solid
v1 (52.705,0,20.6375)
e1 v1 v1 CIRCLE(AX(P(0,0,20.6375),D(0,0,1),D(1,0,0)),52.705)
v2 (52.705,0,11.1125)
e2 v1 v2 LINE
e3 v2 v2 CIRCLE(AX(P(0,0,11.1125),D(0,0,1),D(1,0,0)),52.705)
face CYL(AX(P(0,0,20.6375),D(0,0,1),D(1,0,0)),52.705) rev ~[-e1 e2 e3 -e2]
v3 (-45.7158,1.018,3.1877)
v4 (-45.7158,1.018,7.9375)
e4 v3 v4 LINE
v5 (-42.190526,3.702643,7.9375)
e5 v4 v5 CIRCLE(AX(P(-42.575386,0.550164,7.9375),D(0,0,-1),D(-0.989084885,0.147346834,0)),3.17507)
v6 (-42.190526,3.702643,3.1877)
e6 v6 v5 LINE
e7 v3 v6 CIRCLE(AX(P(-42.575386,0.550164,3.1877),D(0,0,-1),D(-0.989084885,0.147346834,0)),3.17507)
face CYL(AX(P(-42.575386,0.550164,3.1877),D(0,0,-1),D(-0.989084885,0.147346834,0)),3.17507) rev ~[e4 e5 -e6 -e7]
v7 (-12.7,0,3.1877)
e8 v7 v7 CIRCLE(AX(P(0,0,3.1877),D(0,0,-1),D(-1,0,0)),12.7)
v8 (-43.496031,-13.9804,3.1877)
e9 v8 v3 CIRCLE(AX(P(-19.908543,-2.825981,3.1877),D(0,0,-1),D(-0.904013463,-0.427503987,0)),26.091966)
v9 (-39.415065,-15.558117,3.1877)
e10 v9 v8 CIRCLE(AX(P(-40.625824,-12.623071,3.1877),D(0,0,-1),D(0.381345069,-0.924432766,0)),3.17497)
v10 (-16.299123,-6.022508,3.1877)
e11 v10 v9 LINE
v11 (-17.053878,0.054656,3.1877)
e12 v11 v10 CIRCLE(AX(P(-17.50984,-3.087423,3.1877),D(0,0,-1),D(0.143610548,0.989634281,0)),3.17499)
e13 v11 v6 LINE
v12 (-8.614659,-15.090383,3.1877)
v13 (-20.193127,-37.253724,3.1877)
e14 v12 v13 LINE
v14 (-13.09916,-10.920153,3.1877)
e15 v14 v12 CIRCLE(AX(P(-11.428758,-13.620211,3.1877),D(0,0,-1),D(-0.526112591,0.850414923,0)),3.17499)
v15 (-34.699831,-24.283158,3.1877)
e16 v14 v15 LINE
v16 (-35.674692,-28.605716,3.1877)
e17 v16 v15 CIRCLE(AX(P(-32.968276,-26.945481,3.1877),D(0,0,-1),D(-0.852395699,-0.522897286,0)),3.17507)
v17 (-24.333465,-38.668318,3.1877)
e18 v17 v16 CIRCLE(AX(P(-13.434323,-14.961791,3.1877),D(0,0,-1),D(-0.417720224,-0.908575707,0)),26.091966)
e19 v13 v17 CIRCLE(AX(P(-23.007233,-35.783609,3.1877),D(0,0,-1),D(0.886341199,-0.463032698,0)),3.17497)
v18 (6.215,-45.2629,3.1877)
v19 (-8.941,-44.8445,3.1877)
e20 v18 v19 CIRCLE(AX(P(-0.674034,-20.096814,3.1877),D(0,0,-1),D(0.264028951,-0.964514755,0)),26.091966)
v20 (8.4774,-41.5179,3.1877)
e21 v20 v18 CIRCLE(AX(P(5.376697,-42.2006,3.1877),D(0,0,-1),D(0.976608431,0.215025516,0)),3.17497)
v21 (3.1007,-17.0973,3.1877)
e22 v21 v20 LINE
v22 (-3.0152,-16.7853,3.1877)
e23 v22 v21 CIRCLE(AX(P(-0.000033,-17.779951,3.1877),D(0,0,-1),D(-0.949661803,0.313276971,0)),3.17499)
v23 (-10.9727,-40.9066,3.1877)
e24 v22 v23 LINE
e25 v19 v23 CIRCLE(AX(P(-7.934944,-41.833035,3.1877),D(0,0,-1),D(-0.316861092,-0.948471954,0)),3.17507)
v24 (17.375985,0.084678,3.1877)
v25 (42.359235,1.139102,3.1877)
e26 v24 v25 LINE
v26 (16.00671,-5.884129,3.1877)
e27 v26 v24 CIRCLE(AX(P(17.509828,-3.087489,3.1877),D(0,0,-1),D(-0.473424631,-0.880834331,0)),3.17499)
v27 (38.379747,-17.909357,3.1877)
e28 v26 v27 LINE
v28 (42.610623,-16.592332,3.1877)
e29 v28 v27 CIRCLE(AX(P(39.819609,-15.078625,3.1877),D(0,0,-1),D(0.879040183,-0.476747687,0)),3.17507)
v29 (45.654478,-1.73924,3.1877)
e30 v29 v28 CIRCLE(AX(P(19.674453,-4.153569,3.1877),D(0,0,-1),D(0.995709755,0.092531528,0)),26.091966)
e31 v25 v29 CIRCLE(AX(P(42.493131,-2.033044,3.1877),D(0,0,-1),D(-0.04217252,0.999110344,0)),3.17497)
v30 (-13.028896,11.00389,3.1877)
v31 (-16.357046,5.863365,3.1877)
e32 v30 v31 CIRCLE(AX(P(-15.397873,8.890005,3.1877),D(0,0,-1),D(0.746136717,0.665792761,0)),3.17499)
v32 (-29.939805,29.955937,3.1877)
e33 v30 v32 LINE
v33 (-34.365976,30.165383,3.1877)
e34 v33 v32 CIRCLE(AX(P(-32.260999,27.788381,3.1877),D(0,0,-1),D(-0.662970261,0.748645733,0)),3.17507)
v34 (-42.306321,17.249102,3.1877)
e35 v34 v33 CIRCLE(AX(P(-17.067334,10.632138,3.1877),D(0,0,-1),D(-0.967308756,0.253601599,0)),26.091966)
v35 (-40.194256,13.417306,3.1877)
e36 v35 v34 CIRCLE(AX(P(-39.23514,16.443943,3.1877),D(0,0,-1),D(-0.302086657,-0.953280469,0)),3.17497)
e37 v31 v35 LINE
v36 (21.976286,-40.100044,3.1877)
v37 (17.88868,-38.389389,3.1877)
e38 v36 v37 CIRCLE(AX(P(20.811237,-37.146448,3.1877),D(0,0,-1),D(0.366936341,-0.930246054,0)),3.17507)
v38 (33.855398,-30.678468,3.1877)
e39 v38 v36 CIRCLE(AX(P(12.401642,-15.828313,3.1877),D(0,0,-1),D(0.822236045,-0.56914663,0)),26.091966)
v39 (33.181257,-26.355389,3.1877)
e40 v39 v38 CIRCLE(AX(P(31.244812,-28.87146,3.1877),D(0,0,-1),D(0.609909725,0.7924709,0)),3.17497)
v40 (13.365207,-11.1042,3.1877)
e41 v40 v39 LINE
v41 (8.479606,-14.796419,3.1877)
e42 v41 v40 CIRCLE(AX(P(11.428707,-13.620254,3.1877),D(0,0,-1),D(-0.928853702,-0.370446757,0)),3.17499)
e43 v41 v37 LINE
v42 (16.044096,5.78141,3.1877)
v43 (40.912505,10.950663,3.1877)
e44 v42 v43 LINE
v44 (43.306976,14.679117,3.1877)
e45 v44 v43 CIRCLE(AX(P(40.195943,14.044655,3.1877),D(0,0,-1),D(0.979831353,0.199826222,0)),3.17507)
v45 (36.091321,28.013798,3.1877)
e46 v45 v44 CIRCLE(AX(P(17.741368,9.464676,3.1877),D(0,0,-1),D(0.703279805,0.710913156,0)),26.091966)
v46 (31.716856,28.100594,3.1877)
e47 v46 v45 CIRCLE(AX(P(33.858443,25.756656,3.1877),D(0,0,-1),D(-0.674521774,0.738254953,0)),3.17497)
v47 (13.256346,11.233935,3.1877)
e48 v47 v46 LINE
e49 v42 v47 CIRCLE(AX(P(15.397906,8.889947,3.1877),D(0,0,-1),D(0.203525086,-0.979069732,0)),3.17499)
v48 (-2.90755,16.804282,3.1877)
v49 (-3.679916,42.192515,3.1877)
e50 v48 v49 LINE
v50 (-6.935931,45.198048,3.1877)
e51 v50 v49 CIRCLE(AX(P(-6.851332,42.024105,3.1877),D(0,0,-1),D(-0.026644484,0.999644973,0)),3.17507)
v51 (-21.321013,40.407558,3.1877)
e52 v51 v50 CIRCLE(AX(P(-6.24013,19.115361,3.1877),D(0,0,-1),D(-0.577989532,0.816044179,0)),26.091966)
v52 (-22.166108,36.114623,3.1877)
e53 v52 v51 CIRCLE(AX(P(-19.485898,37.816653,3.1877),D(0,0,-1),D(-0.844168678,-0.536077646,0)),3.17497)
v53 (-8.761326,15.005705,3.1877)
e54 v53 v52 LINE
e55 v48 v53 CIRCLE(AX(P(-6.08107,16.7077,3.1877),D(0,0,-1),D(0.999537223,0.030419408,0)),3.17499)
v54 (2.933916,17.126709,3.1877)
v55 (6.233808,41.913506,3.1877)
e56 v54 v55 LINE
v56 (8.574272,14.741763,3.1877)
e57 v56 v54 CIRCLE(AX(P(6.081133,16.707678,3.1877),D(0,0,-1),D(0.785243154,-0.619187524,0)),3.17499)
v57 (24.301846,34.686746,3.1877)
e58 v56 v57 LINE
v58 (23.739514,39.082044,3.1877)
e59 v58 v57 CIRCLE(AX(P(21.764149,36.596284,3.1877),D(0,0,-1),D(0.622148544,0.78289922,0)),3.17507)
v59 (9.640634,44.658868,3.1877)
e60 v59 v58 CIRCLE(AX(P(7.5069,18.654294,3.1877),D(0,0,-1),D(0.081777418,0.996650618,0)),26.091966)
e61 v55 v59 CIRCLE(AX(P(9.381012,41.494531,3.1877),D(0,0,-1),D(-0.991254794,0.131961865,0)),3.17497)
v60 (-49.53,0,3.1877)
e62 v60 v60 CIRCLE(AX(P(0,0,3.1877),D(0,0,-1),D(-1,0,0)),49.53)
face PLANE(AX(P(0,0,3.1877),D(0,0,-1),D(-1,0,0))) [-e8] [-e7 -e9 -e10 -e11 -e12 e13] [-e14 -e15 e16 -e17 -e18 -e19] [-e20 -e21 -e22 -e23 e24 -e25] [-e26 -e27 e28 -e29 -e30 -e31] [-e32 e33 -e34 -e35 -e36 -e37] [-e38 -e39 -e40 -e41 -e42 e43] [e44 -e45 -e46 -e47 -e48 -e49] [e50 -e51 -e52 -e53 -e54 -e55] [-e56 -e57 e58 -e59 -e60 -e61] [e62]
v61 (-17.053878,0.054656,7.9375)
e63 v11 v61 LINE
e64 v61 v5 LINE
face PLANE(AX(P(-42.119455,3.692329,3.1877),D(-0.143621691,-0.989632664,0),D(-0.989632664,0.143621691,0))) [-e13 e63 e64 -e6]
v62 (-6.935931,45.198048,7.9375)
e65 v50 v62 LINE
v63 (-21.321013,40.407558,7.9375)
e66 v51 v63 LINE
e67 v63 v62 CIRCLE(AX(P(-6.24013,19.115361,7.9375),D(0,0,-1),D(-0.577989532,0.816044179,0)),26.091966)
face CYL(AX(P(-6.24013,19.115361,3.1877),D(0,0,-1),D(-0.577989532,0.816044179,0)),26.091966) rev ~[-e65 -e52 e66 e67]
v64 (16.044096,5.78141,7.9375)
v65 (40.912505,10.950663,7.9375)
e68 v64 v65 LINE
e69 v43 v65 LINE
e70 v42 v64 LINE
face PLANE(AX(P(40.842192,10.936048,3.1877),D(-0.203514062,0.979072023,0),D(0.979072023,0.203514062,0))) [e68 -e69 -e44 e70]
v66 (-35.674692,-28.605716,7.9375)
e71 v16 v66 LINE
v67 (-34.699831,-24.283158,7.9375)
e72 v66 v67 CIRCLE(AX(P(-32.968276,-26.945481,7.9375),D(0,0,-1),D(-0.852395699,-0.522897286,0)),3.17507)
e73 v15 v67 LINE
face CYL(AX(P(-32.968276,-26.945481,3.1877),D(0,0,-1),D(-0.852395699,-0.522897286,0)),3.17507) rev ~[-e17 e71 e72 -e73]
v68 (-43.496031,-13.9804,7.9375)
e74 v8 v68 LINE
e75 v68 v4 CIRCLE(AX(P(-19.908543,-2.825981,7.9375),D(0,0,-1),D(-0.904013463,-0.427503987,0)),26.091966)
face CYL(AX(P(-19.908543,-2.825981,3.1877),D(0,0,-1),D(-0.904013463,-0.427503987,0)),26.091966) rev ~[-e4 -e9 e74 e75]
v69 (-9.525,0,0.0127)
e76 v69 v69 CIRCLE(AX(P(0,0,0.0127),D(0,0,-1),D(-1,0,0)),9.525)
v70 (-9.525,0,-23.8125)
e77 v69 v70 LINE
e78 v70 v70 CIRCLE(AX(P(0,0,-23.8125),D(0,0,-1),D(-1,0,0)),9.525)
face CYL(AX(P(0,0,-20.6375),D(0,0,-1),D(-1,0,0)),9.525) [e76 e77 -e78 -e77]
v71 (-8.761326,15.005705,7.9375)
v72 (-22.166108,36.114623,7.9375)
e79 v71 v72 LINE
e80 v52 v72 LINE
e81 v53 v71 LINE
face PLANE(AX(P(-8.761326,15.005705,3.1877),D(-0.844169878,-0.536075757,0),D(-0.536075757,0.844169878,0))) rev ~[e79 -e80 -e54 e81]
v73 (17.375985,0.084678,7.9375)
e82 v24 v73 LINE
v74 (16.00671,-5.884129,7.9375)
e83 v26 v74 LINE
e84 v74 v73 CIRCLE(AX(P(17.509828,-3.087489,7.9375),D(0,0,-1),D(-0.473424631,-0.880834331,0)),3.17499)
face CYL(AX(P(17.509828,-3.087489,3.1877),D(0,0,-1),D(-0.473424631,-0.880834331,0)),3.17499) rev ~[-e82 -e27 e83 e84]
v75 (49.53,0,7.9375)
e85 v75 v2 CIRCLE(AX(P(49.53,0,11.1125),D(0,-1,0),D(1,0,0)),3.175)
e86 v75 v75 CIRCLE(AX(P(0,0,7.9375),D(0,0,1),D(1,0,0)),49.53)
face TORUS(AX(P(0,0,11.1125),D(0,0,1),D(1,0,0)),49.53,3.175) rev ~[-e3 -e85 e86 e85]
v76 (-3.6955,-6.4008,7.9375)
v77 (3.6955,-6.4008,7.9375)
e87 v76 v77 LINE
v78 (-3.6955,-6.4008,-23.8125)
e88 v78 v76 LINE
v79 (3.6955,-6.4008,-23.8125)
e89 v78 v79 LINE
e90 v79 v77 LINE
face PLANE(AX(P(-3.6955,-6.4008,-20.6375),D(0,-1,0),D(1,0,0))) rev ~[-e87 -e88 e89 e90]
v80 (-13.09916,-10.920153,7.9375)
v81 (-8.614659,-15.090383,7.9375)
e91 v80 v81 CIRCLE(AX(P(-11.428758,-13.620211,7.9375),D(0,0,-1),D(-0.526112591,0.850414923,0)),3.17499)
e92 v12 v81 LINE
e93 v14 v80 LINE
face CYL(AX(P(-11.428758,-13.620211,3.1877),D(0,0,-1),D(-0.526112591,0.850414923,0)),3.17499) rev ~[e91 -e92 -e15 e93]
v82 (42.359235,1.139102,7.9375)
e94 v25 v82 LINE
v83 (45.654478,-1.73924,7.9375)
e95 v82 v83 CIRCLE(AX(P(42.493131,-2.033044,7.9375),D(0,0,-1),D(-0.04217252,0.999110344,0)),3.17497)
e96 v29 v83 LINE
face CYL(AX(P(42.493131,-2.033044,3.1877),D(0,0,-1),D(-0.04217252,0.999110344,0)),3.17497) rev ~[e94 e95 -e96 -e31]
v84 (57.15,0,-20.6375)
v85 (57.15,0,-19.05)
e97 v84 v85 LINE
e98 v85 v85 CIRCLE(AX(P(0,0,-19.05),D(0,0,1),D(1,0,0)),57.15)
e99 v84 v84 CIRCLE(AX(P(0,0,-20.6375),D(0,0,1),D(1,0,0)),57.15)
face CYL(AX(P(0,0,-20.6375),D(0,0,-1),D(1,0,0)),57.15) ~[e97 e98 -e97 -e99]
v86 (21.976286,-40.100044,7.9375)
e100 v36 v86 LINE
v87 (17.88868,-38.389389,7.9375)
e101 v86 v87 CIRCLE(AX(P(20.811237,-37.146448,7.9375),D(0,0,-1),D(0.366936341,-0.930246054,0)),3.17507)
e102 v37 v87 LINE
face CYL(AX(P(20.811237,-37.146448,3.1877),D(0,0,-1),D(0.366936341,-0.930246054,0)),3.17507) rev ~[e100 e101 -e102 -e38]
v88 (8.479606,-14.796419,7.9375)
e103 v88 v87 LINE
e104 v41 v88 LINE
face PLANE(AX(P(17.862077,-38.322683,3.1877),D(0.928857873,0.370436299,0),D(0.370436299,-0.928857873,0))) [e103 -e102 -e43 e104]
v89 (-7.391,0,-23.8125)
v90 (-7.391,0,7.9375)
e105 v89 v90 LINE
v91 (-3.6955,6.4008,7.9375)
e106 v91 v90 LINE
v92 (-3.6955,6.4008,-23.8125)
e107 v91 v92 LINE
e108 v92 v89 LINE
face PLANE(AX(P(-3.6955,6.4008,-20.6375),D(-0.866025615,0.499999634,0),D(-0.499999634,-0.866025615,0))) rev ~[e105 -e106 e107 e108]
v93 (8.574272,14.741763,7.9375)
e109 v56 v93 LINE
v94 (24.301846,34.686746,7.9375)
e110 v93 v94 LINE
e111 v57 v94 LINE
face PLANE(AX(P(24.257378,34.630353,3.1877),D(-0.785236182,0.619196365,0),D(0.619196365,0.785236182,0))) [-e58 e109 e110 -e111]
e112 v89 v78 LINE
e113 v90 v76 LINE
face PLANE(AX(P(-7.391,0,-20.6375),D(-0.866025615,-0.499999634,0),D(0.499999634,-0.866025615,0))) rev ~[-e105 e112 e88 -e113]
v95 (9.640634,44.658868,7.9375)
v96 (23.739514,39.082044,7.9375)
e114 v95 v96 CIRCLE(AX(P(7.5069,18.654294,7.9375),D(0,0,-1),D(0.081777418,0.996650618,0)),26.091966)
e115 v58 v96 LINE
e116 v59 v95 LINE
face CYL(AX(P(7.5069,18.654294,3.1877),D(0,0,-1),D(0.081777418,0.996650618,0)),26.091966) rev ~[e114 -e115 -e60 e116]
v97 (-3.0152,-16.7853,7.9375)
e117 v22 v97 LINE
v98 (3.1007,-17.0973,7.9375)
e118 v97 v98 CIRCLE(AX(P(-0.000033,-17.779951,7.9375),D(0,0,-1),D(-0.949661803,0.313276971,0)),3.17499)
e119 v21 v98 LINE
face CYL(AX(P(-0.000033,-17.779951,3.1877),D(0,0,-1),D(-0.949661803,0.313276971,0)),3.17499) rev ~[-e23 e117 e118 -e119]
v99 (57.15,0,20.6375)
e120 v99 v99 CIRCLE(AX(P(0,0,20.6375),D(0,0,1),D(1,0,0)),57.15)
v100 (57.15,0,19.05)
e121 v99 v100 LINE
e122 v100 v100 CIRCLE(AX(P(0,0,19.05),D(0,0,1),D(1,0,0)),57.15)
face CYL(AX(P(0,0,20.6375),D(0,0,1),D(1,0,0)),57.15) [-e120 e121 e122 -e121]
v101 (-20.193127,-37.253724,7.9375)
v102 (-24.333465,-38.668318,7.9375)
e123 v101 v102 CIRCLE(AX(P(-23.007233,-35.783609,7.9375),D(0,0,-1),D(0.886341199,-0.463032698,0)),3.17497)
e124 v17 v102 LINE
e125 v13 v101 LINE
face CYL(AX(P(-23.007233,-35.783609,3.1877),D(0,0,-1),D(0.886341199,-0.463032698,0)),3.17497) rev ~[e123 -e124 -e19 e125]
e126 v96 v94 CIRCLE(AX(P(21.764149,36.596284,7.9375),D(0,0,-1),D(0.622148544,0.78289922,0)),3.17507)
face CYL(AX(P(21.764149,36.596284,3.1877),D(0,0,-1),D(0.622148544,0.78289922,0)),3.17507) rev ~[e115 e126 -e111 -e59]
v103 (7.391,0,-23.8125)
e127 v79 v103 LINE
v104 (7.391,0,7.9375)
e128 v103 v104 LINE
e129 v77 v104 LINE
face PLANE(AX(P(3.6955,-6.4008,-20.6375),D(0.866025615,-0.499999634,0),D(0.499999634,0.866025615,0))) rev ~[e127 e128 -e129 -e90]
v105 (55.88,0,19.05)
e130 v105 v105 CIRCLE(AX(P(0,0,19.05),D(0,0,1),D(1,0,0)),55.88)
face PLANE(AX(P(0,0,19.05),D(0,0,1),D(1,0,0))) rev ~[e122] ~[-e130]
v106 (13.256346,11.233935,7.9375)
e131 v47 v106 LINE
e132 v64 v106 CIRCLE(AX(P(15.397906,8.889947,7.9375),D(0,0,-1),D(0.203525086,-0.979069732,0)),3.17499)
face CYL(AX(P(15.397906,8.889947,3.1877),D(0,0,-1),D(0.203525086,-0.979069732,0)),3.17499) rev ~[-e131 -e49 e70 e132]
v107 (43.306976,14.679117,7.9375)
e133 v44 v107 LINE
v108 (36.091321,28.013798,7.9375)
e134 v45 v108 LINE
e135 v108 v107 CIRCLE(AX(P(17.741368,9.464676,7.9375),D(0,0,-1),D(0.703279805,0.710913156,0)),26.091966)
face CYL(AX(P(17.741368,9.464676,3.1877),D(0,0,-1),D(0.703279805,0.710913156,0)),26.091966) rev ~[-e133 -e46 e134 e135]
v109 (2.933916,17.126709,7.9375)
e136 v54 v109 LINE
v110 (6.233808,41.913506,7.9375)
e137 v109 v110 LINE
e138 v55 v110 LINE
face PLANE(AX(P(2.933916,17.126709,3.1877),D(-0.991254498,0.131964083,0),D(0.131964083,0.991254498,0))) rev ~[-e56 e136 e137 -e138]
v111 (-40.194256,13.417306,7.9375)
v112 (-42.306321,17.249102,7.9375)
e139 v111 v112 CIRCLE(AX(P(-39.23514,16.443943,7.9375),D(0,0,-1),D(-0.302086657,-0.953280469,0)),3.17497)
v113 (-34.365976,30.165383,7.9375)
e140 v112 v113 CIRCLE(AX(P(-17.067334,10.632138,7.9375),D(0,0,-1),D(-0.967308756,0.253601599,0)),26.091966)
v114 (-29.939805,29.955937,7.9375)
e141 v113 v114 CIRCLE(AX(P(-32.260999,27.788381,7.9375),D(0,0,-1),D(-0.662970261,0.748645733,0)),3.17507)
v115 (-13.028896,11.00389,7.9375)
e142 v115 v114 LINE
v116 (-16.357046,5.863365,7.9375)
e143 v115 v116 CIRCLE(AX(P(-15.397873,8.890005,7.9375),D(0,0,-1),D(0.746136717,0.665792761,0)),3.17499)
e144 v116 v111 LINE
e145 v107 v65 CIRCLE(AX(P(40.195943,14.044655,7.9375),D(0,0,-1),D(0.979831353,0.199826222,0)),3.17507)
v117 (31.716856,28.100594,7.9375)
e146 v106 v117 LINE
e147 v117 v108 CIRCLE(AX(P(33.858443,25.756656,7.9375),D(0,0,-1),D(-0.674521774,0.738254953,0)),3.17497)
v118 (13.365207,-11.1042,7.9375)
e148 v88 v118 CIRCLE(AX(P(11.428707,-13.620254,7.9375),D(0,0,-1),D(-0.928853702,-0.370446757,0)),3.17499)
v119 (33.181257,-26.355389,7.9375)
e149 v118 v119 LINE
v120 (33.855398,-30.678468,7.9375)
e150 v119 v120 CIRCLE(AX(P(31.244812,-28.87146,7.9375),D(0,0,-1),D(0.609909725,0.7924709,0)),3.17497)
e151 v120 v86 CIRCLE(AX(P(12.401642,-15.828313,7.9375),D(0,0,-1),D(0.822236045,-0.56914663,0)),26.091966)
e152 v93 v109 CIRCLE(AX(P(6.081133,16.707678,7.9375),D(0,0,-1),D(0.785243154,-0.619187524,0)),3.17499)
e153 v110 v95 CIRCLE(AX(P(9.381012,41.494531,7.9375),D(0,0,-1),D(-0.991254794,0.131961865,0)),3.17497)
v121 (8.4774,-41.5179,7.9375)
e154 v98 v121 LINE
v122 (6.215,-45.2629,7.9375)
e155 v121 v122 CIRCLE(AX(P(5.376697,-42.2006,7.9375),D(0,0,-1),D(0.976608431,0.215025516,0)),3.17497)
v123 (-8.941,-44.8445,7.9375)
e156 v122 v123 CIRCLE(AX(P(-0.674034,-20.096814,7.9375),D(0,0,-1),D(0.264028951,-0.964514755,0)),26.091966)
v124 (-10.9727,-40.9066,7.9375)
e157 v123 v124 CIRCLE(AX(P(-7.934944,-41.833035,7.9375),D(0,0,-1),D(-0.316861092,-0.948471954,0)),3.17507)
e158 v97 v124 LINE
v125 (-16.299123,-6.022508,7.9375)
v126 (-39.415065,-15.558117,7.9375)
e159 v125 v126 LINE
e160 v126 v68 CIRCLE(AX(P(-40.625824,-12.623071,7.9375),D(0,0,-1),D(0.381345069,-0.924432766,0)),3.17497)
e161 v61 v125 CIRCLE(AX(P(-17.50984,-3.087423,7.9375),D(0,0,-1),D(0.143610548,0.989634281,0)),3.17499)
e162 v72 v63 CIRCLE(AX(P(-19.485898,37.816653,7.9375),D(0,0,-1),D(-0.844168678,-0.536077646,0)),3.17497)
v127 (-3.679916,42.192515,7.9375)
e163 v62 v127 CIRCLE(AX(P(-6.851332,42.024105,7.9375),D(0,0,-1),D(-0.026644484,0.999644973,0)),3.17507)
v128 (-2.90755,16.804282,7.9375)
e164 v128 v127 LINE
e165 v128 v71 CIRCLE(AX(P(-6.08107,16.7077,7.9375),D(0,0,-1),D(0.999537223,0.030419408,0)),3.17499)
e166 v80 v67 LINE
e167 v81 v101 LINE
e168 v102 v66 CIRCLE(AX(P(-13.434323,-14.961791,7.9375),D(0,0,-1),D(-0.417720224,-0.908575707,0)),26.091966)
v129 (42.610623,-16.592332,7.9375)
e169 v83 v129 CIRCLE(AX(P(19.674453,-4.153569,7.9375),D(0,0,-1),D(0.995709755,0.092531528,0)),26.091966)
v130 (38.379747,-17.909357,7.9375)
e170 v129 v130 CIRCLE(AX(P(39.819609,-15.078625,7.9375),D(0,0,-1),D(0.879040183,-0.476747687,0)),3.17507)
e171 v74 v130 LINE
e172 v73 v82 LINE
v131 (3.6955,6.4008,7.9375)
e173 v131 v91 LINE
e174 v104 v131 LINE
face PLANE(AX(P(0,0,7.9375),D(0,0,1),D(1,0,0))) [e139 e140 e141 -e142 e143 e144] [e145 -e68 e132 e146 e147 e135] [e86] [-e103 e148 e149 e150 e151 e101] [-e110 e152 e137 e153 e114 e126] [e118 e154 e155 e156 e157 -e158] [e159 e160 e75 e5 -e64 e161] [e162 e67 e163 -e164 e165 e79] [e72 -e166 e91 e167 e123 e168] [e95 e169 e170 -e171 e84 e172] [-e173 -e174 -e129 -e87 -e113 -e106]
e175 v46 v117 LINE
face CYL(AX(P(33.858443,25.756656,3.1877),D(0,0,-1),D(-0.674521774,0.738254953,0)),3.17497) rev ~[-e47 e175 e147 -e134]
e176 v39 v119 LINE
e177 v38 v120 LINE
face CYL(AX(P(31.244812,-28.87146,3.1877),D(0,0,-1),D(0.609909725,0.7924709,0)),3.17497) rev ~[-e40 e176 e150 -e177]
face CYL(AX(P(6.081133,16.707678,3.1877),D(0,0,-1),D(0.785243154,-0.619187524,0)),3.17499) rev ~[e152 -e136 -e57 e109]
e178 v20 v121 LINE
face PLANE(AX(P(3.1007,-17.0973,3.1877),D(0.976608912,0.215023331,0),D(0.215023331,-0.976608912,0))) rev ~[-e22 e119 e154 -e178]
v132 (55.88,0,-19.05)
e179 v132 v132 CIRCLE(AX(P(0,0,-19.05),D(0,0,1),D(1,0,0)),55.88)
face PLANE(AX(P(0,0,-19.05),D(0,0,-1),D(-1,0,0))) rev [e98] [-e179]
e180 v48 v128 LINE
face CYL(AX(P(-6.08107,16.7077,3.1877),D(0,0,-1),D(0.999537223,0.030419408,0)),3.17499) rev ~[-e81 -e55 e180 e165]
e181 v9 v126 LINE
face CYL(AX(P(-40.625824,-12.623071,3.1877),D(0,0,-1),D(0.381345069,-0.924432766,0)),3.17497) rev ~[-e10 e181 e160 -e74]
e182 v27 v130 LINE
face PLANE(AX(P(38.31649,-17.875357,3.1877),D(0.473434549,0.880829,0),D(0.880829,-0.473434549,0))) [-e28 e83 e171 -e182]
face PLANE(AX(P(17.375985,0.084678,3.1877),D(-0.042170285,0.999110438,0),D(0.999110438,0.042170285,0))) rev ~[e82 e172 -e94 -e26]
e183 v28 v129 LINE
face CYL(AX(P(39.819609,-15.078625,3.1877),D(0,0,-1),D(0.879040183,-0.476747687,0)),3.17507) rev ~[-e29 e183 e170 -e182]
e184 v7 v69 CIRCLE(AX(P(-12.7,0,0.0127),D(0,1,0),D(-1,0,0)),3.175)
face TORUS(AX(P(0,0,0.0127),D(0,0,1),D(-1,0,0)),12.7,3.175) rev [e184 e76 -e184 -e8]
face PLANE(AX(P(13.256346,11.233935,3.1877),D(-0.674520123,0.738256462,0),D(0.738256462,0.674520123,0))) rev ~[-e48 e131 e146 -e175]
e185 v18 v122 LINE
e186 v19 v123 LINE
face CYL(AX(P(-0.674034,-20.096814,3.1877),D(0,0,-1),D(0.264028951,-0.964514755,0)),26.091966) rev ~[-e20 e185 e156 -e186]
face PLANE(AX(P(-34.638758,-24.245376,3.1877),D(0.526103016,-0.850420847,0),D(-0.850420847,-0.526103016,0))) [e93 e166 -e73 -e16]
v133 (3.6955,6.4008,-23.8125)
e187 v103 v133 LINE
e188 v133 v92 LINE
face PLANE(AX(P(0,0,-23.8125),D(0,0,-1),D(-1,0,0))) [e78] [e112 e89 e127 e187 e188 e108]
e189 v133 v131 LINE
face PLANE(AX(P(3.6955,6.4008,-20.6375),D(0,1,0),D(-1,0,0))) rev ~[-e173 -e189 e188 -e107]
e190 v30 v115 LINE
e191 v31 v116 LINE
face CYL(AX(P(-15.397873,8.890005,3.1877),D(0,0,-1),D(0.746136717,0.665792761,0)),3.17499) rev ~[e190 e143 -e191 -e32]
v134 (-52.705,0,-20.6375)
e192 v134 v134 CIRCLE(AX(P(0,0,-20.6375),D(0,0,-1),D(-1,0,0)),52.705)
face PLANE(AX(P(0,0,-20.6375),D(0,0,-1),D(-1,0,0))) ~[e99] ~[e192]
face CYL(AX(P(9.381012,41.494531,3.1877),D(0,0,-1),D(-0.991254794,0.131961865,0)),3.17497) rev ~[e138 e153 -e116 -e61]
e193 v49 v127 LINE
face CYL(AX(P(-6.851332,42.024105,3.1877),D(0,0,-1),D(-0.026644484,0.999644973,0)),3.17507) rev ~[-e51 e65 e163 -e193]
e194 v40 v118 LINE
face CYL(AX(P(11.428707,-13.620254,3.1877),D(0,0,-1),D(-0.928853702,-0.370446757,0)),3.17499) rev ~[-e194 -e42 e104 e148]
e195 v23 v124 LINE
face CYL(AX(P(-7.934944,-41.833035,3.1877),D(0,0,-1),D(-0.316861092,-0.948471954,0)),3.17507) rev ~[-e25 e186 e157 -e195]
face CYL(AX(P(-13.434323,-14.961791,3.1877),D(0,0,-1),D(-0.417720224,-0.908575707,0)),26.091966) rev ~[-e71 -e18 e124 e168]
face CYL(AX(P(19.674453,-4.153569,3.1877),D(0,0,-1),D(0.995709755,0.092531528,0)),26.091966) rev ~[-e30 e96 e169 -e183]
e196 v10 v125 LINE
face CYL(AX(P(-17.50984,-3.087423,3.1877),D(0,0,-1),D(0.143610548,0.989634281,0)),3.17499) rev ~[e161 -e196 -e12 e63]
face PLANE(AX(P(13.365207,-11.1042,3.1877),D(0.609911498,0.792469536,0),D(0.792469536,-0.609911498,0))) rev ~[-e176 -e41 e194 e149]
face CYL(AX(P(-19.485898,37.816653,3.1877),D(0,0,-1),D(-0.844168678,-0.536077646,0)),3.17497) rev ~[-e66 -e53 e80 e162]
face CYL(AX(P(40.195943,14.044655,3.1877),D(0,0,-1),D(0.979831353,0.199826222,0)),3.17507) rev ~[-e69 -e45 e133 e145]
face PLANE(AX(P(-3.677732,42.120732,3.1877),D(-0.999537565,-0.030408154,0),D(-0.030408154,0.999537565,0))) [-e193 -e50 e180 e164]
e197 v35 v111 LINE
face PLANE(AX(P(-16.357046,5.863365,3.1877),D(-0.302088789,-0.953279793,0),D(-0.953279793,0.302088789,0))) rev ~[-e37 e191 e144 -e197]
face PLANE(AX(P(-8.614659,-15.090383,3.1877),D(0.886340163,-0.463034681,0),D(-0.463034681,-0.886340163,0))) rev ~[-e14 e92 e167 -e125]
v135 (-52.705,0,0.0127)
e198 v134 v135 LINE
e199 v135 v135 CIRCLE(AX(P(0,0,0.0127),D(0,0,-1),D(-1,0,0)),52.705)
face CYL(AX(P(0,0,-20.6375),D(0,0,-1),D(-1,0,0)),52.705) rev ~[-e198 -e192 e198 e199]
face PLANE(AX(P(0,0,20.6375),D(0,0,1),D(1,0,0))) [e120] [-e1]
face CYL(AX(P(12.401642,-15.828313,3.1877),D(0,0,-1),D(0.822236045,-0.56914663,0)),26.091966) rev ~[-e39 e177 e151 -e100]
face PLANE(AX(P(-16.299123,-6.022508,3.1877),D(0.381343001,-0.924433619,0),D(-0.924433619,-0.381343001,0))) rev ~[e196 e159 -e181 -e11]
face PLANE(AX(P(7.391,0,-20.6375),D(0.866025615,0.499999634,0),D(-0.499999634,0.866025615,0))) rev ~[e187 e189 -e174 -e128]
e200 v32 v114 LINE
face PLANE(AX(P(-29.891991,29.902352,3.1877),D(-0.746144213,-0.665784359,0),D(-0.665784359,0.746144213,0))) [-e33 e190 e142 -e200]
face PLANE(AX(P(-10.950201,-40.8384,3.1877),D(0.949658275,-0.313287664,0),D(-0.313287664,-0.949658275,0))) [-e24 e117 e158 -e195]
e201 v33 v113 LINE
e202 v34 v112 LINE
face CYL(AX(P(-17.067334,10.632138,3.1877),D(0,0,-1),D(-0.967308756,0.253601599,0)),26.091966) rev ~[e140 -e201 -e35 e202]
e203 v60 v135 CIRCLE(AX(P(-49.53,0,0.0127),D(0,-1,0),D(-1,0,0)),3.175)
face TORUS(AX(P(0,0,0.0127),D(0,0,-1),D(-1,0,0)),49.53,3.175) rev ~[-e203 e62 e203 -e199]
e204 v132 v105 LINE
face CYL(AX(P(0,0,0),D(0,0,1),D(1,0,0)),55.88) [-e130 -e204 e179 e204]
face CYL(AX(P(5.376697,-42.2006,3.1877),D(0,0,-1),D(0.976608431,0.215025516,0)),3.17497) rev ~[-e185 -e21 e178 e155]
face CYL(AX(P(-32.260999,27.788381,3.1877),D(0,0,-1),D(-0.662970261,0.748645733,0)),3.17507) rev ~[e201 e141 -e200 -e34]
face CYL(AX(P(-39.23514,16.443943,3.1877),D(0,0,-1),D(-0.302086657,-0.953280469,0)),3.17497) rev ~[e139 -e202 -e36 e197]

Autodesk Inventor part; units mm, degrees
ref_plane "YZ Plane" through (0, 0, 0) normal (1, 0, 0) x (0, 1, 0)
ref_plane "XZ Plane" through (0, 0, 0) normal (0, 1, 0) x (-1, 0, 0)
sketch "Sketch1" plane through (0, 0, 0) normal (0, 0, 1) x (1, 0, 0)
  circle A0 centre (0, 0) radius 55.88
  circle A1 centre (0, 0) radius 9.525
  line L0 (7.391, 0) -> (3.6955, -6.4008)
  line L1 (3.6955, -6.4008) -> (-3.6955, -6.4008)
  line L2 (-3.6955, -6.4008) -> (-7.391, 0)
  line L3 (-7.391, 0) -> (-3.6955, 6.4008)
  line L4 (-3.6955, 6.4008) -> (3.6955, 6.4008)
  line L5 (3.6955, 6.4008) -> (7.391, 0)
  circle A2 centre (0, 0) radius 52.705
  point P0 (0, 9.525)
  dimension "d1" = 19.05
  dimension "d0" = 111.76
  dimension "d2" = 12.8016
  dimension "d3" = 3.175
extrude "Extrusion1" add sketch "Sketch1" along normal mid plane 41.275 contours A0 | A1 | A2
sketch "Sketch4" plane through (0, 0, 20.6375) normal (0, 0, 1) x (1, 0, 0)
  circle A0 centre (0, 0) radius 52.705
  circle A1 centre (0, 0) radius 55.88 construction
  dimension "d59" = 3.175
extrude "Extrusion4" cut sketch "Sketch4" against normal blind 12.7
sketch "Sketch5" plane through (0, 0, -20.6375) normal (0, 0, -1) x (-1, 0, 0)
  circle A0 centre (0, 0) radius 9.525
  line L0 (3.6955, 6.4008) -> (7.391, 0) projected
  line L1 (7.391, 0) -> (3.6955, -6.4008)
  line L2 (3.6955, -6.4008) -> (-3.6955, -6.4008)
  line L3 (-3.6955, -6.4008) -> (-7.391, 0)
  line L4 (-7.391, 0) -> (-3.6955, 6.4008)
  line L5 (-3.6955, 6.4008) -> (3.6955, 6.4008)
  line L6 (3.6955, 6.4008) -> (7.391, 0)
  dimension "d26" = 19.05
extrude "Extrusion5" add sketch "Sketch5" along normal blind 3.175
sketch "Sketch6" plane through (0, 0, -20.6375) normal (0, 0, -1) x (-1, 0, 0)
  circle A0 centre (0, 0) radius 52.705
  circle A1 centre (0, 0) radius 9.525
  circle A2 centre (0, 0) radius 55.88 construction
  dimension "d60" = 3.175
extrude "Extrusion6" cut sketch "Sketch6" against normal blind 23.8252
sketch "Sketch7" plane through (0, 0, 7.9375) normal (0, 0, 1) x (1, 0, 0)
  circle A0 centre (0, 0) radius 9.525 projected
  circle A1 centre (0, 0) radius 52.705 projected
  circle A2 centre (0, 0) radius 47.9425 construction
  circle A3 centre (0, 0) radius 14.2875 construction
  line L0 (-9.7714, 10.4237) -> (-9.7714, 46.9362) construction
  line L1 (-9.7714, 10.4237) -> (16.8454, 44.8856)
  line L2 (-9.7714, 10.4237) -> (-36.3881, 44.8856)
  arc A4 (16.8454, 44.8856) -> (-36.3881, 44.8856) centre (-9.7714, -126.8345) ccw
  point P0 (-6.5143, 6.9491)
  dimension "d42" = 4.7625
  dimension "d41" = 4.7625
  dimension "d43" = 34.4619
  dimension "d44" = 36.5125
  dimension "d45" = 4.7625
extrude "Extrusion8" [suppressed]
fillet "Fillet1" [suppressed]
pattern_circular "Circular Pattern1" [suppressed]
fillet "Fillet2" [suppressed]
sketch "Sketch8" plane through (0, 0, 20.6375) normal (0, 0, 1) x (1, 0, 0)
  circle A0 centre (0, 0) radius 55.88 projected
  circle A1 centre (0, 0) radius 57.15
  dimension "d53" = 114.3
extrude "Extrusion9" add sketch "Sketch8" against normal blind 1.5875
ref_plane "Work Plane1" through (0, 0, 0) normal (0, 0, 1) x (1, 0, 0)
mirror "Mirror1" about plane through (0, 0, 0) normal (0, 0, 1) of "Extrusion9"
fillet "Fillet3" radius 3.175 1 edges at (9.525, 0, 3.1877)
fillet "Fillet4" radius 3.175 1 edges at (-52.705, 0, 7.9375)
fillet "Fillet5" radius 3.175 1 edges at (52.705, 0, 3.1877)
sketch "Sketch9" plane through (0, 0, 3.1877) normal (0, 0, -1) x (-1, 0, 0)
  circle A0 centre (0, 0) radius 12.7 construction
  circle A1 centre (0, 0) radius 49.53 construction
  circle A2 centre (0, 0) radius 12.7 construction
  line L0 (0, -12.7) -> (0, -17.78) construction
  arc A3 (3.0152, -16.7853) -> (-3.1007, -17.0973) centre (0, -17.78) ccw
  circle A4 centre (0, 0) radius 49.53 construction
  line L1 (3.0152, -16.7853) -> (10.9727, -40.9066)
  line L2 (-3.1007, -17.0973) -> (-8.5623, -41.9032)
  arc A5 (8.941, -44.8445) -> (10.9502, -40.8384) centre (7.935, -41.8331) ccw
  arc A6 (-8.4774, -41.5179) -> (-6.215, -45.2629) centre (-5.3767, -42.2006) ccw
  arc A7 (-6.215, -45.2629) -> (8.941, -44.8445) centre (0.674, -20.0971) ccw
  point P0 (-10.4488, -48.4153)
  point P1 (10.4488, -48.4153)
  dimension "d62" = 5.08
  dimension "d63" = 6.35
  dimension "d77" = 25.4
  dimension "d78" = 25.4
  dimension "d79" = 6.35
  dimension "d80" = 6.35
  dimension "d81" = 13.3117
  dimension "d82" = 24.0531
  dimension "d83" = 42.2006
  dimension "d84" = 26.0917
  dimension "d85" = 17.78
extrude "Extrusion10" cut sketch "Sketch9" against normal up to next
pattern_circular "Circular Pattern2" count 9 over 360 about axis through (0, 0, -20.6375) along (0, 0, -1) of "Extrusion10"
properties part number "Custom Wheel" material "Aluminum 6061"
